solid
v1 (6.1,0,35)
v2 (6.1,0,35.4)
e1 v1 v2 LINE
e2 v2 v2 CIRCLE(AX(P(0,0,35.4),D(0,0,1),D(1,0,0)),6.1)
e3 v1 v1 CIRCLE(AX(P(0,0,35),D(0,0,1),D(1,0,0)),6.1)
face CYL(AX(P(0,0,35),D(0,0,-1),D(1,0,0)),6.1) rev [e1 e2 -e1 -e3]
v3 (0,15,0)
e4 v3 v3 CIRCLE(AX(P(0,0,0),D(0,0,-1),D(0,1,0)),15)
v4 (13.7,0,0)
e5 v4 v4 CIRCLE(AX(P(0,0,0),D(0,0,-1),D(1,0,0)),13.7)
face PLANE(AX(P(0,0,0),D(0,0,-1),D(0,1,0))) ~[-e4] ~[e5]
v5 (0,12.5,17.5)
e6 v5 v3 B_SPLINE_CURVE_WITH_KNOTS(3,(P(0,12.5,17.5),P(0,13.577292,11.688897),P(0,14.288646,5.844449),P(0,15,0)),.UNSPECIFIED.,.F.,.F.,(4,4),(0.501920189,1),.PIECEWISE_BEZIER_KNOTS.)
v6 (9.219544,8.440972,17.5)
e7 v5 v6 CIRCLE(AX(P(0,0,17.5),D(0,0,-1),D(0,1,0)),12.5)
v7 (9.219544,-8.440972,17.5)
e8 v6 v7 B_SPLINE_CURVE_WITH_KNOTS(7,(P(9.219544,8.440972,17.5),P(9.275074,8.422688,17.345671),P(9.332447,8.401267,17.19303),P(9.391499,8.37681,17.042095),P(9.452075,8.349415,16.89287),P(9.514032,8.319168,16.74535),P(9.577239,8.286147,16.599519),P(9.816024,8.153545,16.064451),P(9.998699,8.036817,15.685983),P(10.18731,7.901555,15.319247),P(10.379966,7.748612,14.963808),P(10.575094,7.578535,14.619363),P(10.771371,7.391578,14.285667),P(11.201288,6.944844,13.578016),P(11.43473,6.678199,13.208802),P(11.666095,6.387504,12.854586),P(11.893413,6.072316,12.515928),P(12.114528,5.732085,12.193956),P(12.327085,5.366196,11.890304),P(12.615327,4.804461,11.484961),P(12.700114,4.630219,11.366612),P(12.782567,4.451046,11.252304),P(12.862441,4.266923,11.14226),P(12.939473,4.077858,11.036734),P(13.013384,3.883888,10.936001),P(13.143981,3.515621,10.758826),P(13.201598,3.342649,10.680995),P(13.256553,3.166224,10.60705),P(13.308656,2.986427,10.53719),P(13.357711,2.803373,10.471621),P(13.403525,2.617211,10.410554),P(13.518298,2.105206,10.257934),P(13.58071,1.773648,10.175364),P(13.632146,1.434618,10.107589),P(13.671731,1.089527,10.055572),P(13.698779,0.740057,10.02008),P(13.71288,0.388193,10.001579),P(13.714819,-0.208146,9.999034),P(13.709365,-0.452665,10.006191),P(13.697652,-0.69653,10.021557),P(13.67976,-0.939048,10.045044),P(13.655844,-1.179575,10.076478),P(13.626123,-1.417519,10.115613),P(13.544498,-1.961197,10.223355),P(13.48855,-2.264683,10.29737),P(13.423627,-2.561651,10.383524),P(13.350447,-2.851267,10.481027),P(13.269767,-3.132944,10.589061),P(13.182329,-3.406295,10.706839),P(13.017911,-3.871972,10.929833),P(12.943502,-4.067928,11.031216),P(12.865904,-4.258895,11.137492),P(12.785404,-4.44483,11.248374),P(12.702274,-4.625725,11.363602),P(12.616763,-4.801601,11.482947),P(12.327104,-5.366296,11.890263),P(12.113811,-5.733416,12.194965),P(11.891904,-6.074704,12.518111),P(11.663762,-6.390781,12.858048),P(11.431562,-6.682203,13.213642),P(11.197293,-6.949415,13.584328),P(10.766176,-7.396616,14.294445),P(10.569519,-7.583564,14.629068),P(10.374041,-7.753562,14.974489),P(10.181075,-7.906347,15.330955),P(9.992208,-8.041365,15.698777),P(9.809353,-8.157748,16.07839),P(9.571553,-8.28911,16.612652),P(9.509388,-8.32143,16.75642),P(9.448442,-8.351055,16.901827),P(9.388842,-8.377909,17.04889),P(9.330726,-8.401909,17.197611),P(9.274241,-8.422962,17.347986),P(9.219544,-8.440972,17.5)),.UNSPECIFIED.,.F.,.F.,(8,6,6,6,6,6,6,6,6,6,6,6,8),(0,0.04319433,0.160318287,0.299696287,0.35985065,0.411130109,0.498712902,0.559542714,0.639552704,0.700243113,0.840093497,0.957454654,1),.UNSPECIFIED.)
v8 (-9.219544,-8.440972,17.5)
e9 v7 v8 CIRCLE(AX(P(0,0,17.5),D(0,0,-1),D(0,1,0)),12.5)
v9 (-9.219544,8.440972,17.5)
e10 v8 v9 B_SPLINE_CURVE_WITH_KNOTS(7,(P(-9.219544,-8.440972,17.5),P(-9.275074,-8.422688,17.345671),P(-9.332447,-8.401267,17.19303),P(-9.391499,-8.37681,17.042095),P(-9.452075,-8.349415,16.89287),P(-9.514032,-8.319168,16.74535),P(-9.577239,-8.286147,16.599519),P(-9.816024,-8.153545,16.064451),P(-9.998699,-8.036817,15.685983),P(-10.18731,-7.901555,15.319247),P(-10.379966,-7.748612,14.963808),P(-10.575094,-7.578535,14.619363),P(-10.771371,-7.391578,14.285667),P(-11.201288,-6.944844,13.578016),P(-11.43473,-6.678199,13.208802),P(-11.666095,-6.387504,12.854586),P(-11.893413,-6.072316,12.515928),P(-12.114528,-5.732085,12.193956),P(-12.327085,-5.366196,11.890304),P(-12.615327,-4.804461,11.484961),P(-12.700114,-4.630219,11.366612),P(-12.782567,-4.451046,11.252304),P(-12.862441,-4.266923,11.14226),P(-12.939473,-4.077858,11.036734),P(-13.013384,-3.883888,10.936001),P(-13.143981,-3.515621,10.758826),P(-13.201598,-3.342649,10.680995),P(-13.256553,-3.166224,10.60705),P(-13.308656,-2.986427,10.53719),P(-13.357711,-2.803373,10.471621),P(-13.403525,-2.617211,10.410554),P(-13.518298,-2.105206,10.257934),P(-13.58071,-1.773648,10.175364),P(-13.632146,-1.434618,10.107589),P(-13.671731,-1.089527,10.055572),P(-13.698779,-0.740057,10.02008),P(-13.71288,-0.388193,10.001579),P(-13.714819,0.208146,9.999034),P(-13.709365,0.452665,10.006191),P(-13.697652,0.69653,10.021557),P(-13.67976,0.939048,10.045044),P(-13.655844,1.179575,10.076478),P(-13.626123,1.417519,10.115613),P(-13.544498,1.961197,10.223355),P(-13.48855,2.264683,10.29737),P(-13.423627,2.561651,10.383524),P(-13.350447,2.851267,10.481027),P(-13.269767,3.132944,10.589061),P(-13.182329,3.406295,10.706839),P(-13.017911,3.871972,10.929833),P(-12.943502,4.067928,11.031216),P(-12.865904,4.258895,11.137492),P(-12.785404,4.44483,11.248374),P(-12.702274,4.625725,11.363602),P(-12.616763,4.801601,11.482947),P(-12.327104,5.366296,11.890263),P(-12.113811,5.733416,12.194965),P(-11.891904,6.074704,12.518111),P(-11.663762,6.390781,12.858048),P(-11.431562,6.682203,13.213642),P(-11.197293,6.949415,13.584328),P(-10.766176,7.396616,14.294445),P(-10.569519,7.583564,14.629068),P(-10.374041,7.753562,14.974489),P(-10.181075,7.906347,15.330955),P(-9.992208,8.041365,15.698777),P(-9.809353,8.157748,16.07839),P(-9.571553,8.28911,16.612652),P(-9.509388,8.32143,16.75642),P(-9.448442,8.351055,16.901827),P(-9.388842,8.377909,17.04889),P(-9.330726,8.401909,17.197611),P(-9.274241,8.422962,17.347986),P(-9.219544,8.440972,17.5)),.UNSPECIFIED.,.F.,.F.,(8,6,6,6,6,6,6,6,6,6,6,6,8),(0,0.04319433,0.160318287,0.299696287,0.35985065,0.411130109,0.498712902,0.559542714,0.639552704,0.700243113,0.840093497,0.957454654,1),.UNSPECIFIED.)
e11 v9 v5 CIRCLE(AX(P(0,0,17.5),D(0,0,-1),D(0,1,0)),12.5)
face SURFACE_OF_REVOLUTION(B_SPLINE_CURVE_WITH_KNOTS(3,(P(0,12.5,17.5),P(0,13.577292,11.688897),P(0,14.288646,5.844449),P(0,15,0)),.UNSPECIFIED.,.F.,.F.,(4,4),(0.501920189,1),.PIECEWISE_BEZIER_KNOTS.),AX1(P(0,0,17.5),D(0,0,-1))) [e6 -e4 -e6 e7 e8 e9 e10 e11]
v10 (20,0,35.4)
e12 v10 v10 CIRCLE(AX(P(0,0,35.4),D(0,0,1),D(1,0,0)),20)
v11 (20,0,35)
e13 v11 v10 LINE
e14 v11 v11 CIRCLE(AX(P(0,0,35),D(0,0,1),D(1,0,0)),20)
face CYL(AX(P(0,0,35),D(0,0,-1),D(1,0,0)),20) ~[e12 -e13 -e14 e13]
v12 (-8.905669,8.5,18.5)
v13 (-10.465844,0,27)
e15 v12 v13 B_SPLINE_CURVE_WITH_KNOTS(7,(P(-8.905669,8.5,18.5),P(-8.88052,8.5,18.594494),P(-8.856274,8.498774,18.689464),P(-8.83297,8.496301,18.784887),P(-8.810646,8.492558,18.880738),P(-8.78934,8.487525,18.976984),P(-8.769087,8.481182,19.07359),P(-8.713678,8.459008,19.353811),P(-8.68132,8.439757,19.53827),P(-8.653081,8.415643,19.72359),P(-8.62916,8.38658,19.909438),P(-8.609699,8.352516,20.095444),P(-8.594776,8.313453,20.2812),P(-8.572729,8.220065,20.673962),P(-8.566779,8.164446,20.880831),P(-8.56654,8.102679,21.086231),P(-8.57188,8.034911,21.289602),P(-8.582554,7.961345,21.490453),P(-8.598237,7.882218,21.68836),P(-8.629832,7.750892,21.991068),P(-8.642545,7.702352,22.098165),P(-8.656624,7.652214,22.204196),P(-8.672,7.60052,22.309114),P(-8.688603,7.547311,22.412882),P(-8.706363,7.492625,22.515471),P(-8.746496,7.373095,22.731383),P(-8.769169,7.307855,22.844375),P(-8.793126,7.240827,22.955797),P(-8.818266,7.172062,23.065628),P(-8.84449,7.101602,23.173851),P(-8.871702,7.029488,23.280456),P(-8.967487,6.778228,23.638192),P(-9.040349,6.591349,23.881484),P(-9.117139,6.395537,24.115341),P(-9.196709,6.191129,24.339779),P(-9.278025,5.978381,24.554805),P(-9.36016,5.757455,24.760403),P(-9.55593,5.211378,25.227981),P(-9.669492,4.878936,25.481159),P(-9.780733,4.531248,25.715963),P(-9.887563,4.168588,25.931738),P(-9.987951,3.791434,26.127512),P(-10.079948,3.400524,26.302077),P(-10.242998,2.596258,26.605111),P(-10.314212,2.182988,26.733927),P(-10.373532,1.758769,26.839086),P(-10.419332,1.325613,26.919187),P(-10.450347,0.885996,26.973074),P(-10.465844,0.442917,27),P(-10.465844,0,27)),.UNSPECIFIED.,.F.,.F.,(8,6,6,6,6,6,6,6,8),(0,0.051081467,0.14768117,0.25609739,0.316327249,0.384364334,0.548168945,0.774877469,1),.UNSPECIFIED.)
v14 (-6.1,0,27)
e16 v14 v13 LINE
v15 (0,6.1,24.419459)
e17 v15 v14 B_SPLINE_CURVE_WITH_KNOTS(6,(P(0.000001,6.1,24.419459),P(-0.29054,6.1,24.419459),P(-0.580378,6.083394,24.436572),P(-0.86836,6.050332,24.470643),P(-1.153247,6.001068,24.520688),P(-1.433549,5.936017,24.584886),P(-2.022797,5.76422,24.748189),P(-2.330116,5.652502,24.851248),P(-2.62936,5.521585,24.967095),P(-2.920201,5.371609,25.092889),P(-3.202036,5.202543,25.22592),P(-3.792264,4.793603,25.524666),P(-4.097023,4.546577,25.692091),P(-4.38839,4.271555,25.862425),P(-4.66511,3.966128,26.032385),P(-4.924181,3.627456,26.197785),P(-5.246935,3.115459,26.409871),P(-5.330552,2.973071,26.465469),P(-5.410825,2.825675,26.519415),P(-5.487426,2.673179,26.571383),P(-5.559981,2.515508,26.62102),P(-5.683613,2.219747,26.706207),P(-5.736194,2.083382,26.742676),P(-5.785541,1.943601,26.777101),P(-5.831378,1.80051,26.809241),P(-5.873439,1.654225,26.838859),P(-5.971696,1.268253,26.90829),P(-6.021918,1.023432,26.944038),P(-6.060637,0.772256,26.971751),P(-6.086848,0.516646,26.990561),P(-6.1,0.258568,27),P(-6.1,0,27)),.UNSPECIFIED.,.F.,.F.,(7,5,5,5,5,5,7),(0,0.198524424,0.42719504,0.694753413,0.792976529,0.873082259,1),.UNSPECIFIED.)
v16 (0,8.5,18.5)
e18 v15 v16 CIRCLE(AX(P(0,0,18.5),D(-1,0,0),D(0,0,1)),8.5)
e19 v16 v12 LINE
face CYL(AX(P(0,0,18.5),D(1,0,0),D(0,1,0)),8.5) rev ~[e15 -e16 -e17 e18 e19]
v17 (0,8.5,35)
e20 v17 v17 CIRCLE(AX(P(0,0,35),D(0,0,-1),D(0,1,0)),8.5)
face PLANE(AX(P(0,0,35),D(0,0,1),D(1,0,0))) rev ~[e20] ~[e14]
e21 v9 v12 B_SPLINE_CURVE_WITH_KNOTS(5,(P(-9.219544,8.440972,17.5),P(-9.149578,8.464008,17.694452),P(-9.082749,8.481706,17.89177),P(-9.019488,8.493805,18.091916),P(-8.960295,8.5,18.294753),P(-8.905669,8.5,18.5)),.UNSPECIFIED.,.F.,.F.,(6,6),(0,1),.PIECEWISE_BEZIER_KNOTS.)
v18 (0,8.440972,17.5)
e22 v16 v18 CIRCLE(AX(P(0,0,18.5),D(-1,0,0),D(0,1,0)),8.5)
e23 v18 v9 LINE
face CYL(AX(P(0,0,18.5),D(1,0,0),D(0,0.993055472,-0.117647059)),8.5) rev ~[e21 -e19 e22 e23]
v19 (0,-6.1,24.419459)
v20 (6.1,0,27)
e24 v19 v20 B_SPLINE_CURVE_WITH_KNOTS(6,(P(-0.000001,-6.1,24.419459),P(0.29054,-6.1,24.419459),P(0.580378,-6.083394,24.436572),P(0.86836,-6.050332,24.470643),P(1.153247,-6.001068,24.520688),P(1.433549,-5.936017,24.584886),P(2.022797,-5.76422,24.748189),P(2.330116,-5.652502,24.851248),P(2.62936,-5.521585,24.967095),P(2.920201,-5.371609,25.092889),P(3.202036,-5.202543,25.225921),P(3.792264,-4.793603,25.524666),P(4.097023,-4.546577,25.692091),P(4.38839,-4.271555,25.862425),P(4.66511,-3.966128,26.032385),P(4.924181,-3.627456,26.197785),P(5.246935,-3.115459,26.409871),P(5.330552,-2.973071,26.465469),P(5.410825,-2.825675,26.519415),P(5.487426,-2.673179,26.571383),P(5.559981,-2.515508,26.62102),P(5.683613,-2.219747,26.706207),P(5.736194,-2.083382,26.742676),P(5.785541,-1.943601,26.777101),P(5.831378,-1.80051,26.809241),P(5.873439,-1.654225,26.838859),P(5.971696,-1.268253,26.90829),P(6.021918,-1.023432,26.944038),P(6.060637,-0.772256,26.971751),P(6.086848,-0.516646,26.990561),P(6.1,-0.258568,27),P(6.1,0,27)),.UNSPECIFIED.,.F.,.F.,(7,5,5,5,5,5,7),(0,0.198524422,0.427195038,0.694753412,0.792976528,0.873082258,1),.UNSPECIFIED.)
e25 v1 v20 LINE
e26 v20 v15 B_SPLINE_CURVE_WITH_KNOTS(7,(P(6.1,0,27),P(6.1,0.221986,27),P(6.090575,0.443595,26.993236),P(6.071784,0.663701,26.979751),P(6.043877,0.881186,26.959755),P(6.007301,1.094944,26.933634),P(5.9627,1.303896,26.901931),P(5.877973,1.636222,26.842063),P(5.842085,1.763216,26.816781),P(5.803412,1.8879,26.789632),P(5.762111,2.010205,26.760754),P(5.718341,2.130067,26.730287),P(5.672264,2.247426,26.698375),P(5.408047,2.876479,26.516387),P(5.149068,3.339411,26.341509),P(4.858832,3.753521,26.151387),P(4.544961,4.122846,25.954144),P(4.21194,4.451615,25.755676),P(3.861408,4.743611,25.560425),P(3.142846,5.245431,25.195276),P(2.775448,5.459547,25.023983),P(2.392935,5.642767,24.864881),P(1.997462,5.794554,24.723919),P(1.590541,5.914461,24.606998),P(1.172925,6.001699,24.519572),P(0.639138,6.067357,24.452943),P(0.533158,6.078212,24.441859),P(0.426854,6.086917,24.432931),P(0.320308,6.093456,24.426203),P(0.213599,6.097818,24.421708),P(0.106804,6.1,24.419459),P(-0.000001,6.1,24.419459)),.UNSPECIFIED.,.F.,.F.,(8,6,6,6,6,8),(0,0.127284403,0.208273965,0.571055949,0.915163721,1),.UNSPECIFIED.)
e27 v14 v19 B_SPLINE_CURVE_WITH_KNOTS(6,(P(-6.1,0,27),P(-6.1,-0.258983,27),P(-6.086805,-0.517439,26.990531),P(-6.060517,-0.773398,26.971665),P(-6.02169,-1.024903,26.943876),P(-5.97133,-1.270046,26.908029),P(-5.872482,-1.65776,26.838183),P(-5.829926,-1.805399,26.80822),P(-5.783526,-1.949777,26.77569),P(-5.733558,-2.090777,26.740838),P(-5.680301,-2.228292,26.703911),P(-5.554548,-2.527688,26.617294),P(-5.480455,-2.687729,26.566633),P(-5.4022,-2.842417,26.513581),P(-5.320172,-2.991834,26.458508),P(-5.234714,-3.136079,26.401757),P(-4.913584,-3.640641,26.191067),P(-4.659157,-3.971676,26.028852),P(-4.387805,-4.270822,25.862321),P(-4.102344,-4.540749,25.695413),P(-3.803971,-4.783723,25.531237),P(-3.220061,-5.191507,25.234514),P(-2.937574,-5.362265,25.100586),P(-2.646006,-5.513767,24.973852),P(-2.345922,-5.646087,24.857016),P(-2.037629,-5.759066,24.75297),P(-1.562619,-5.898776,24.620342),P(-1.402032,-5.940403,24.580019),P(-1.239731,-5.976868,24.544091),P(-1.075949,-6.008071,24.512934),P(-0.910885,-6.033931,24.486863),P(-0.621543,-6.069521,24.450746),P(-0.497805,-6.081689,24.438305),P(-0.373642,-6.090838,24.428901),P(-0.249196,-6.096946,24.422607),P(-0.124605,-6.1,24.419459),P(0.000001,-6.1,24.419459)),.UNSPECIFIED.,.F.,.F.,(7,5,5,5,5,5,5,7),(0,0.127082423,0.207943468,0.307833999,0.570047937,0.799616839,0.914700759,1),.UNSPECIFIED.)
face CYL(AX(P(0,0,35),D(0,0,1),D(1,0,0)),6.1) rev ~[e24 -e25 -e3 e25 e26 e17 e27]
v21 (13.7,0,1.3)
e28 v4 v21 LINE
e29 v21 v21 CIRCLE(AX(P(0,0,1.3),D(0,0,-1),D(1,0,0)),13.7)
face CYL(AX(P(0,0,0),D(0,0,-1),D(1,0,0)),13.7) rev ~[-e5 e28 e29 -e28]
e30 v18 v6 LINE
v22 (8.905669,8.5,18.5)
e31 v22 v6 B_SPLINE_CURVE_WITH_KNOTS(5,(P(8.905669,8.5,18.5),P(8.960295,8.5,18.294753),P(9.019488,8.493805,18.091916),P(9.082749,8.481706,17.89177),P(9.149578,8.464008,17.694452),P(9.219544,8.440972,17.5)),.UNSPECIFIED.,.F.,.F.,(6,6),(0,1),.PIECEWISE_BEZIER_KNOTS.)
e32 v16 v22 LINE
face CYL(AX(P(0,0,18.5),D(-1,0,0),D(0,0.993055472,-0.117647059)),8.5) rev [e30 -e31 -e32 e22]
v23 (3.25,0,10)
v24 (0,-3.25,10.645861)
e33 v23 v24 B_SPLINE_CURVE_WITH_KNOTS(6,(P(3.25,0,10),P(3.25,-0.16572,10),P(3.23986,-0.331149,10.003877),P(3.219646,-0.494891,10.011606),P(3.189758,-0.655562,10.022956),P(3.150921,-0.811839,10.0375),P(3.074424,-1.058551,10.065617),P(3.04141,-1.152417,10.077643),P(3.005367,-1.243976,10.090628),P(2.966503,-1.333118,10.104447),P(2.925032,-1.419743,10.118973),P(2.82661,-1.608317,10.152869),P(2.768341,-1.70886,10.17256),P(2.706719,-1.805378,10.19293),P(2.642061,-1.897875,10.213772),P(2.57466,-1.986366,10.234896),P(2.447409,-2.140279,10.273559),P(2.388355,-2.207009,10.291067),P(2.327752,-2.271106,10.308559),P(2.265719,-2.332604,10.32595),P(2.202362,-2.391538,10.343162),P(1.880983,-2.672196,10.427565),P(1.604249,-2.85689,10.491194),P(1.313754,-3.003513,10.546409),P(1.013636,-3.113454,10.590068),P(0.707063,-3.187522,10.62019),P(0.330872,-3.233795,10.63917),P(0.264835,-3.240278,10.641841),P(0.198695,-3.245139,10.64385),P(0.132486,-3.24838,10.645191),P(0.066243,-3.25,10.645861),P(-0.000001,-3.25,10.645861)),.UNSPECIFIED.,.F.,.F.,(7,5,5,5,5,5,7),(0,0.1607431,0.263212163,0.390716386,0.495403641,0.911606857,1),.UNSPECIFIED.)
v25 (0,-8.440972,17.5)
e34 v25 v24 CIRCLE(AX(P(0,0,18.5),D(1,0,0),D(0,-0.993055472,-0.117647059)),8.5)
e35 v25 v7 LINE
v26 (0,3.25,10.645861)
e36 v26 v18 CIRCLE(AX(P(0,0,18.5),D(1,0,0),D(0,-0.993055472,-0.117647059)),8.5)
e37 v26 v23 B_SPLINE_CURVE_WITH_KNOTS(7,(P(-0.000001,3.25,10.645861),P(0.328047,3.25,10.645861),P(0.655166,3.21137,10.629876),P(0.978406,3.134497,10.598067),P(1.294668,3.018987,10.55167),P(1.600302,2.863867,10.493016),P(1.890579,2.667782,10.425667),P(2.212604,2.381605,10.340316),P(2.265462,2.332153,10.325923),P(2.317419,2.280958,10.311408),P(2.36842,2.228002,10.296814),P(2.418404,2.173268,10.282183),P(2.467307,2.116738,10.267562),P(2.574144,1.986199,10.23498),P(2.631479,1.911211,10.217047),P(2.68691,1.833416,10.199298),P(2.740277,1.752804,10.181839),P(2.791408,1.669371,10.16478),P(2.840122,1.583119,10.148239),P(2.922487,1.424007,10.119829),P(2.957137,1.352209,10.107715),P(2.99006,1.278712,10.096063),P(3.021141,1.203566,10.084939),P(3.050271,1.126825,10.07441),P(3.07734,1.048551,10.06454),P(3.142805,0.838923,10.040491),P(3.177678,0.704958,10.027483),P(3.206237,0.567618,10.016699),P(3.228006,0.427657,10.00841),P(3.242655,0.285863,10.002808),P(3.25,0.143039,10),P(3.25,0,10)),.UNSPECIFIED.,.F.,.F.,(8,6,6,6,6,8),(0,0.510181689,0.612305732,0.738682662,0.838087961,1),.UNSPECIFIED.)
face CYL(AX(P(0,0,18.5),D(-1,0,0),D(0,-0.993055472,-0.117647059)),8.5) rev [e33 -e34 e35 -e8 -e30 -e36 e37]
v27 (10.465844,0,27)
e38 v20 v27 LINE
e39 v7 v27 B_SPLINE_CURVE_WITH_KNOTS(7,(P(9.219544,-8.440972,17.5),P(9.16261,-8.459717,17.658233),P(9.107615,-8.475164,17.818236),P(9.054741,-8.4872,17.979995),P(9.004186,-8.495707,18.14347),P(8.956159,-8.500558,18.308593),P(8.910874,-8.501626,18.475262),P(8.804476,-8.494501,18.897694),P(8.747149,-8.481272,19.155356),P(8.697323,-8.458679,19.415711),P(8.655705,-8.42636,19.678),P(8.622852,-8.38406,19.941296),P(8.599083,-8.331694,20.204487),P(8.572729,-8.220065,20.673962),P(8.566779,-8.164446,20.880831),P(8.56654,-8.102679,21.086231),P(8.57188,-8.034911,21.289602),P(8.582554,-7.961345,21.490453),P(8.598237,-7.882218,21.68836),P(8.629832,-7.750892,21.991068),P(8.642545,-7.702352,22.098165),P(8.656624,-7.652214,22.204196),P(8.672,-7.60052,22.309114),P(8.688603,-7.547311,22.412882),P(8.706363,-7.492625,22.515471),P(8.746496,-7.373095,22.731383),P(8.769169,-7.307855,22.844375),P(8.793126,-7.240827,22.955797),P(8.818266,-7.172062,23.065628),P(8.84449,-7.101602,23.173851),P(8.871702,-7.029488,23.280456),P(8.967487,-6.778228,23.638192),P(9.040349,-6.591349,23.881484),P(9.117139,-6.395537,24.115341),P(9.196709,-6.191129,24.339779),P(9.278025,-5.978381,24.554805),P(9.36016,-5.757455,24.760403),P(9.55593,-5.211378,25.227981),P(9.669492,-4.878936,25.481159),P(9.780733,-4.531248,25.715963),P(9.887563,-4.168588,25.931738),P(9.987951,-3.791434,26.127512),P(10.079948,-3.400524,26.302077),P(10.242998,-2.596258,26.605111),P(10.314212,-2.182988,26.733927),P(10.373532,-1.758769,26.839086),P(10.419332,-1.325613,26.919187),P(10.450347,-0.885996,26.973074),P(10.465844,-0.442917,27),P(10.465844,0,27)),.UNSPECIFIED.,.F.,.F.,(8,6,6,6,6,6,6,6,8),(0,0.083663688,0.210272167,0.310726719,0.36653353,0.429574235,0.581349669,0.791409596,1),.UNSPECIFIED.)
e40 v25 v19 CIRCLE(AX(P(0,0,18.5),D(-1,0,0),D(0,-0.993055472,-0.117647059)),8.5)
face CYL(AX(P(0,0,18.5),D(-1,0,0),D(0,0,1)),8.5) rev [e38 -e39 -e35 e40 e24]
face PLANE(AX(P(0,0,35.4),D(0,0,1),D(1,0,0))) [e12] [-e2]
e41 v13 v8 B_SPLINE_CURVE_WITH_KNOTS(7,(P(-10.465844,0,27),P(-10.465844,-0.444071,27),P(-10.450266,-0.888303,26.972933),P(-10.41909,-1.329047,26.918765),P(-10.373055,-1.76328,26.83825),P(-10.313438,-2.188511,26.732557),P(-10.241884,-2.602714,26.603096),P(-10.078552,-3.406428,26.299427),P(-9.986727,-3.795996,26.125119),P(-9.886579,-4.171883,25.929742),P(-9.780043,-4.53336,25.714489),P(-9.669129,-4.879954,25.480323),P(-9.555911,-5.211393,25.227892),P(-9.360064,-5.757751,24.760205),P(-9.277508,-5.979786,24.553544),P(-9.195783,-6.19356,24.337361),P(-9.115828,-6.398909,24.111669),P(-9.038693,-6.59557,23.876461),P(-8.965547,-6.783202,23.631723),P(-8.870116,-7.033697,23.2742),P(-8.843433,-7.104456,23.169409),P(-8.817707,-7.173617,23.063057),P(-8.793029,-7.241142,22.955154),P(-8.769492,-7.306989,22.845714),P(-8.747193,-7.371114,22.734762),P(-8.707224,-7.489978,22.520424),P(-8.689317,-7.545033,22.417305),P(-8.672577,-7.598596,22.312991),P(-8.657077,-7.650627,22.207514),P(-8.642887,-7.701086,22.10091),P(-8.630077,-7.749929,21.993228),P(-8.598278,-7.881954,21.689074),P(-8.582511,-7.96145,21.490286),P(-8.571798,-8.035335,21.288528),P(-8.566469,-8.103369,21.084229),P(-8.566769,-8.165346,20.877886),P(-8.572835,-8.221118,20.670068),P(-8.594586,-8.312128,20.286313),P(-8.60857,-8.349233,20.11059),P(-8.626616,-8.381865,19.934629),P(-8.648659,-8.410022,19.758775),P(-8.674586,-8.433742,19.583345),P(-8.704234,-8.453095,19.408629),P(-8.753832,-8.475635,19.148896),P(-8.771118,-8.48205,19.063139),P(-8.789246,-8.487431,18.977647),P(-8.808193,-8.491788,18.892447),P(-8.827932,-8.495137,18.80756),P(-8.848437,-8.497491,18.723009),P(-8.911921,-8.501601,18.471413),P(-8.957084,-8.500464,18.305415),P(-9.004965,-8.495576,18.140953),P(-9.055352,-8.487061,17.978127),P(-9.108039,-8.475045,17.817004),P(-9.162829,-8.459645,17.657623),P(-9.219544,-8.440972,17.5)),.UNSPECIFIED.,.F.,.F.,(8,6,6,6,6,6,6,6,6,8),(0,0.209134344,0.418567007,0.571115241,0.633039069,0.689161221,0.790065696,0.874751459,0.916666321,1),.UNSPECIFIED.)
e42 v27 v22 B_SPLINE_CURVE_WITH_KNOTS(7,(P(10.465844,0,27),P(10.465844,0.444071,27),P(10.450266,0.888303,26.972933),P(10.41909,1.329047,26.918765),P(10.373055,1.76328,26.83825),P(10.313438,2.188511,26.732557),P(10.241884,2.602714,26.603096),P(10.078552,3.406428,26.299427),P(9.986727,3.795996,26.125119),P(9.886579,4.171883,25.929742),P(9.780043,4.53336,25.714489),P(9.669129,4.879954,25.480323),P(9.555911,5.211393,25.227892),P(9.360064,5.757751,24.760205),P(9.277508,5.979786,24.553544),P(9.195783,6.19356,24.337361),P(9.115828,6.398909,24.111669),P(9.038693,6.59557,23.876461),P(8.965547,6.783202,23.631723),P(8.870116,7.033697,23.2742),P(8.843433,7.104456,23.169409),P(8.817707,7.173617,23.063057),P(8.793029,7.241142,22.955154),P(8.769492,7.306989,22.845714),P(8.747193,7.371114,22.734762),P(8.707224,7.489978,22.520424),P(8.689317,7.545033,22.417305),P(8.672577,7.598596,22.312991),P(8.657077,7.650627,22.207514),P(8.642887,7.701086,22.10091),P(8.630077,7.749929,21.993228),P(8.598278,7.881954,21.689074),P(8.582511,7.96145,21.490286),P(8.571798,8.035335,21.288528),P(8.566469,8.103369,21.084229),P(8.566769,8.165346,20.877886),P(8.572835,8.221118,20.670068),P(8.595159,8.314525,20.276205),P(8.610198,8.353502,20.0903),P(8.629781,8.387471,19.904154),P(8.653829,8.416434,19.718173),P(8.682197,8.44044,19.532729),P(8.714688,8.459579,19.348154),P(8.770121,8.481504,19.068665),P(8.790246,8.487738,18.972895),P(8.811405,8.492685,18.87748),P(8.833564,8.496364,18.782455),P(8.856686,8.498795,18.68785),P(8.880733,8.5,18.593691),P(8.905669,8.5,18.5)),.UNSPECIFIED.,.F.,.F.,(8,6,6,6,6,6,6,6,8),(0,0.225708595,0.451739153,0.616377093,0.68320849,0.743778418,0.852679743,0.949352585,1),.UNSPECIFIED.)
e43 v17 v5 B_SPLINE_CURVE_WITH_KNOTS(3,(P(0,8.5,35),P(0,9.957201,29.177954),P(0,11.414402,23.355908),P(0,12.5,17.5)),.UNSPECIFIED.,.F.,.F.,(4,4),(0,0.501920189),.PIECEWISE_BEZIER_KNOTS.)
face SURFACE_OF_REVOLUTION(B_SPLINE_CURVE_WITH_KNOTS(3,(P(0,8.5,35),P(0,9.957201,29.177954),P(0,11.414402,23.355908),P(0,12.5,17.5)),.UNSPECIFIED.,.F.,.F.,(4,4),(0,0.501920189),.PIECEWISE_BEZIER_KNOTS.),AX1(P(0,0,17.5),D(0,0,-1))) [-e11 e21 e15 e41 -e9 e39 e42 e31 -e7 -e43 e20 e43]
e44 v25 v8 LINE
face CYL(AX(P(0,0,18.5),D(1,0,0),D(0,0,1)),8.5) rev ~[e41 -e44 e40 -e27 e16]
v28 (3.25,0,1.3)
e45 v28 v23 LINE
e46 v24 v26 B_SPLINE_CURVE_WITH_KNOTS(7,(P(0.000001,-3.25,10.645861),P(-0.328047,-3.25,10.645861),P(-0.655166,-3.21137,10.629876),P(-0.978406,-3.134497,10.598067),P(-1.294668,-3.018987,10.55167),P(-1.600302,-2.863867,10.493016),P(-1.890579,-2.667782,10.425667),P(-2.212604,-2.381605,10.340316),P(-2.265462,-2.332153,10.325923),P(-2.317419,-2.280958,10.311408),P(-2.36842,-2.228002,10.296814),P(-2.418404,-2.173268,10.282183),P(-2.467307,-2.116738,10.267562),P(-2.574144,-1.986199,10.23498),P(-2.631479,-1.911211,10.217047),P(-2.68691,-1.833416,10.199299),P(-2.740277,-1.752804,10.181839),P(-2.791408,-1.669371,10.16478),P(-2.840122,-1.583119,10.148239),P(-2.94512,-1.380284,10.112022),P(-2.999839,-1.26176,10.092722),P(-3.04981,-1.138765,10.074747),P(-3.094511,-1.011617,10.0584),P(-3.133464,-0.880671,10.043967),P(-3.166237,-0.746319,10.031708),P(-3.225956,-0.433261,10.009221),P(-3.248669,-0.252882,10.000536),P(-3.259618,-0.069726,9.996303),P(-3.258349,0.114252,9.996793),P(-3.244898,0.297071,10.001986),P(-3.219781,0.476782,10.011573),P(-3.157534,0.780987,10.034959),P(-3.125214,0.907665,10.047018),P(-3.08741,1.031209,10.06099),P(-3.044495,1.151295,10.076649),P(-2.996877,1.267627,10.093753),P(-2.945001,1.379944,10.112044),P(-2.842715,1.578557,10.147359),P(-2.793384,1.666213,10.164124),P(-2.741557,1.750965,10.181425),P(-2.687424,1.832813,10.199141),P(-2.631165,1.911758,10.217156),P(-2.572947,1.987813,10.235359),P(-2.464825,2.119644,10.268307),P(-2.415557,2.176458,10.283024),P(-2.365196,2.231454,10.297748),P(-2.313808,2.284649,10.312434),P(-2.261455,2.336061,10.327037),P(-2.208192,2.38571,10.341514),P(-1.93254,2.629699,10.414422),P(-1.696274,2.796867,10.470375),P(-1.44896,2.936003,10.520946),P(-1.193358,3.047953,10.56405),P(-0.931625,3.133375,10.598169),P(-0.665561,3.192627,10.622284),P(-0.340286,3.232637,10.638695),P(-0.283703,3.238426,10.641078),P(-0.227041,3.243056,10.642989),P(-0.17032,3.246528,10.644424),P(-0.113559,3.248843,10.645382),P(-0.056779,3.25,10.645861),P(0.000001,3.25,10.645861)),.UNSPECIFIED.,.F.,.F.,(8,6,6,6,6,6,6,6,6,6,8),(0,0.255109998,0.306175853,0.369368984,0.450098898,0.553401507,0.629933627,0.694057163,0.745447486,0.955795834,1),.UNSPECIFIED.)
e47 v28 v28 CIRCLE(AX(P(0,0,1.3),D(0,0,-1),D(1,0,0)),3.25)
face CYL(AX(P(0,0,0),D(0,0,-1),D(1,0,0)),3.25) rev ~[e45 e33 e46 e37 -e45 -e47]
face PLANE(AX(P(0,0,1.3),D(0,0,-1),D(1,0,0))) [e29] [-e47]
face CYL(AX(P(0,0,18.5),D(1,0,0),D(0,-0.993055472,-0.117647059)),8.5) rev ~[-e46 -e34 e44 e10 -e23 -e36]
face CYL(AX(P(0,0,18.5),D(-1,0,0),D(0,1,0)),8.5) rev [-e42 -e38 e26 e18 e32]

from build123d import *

# Parameters (mm, degrees)
F3_DEPTH = 15
F2_R     = 6.1
F4_DEPTH = 20
F5_R     = 3.25
F6_DEPTH = 20
F5_R_2   = 13.7
F7_DEPTH = 1.3
F2_R_2   = 20
F2_R_3   = 8.5
F8_DEPTH = 0.4


with BuildPart() as f1:
    # F0 (on Right) → F1 (revolve)
    with BuildSketch(Plane.YZ):
        with BuildLine():
            Line((0, 10), (0, 0))
            Line((0, 0), (15, 0))
            add(Edge.make_bspline(
                [(12.5, 17.5), (13.5772919142, 11.6888974623), (14.2886459571, 5.8444487312), (15, 0)],
                knots=[0.5019201889, 0.5019201889, 0.5019201889, 0.5019201889, 1, 1, 1, 1], degree=3))
            Line((12.5, 17.5), (8.4409715081, 17.5))
            ThreePointArc((8.4409715081, 17.5), (5.6457948953, 12.1458674864), (0, 10))
        make_face()
        with BuildLine():
            Line((8.4409715081, 17.5), (12.5, 17.5))
            add(Edge.make_bspline(
                [(8.5, 35), (9.9572008854, 29.1779541329), (11.4144017707, 23.3559082658), (12.5, 17.5)],
                knots=[0, 0, 0, 0, 0.5019201889, 0.5019201889, 0.5019201889, 0.5019201889], degree=3))
            Line((8.5, 35), (0, 35))
            Line((0, 35), (0, 27))
            ThreePointArc((0, 27), (6.0104076401, 24.5104076401), (8.5, 18.5))
            ThreePointArc((8.5, 18.5), (8.4852300446, 17.9991296668), (8.4409715081, 17.5))
        make_face()
    revolve(axis=Axis((0, 0, 17.5), (0, 0, -1)))

    # F0 (on Right) → F3 (cut, symmetric)
    with BuildSketch(Plane.YZ):
        with BuildLine():
            Line((0, 17.5), (0, 10))
            ThreePointArc((0, 10), (5.6457948953, 12.1458674864), (8.4409715081, 17.5))
            Line((8.4409715081, 17.5), (0, 17.5))
        make_face()
        with BuildLine():
            ThreePointArc((-8.4409715081, 17.5), (-5.6457948953, 12.1458674864), (0, 10))
            Line((0, 10), (0, 17.5))
            Line((0, 17.5), (-8.4409715081, 17.5))
        make_face()
        with BuildLine():
            ThreePointArc((0, 27), (-6.3541325136, 24.1457948953), (-8.4409715081, 17.5))
            Line((-8.4409715081, 17.5), (0, 17.5))
            Line((0, 17.5), (0, 27))
        make_face()
        with BuildLine():
            Line((0, 27), (0, 17.5))
            Line((0, 17.5), (8.4409715081, 17.5))
            ThreePointArc((8.4409715081, 17.5), (8.4852300446, 17.9991296668), (8.5, 18.5))
            ThreePointArc((8.5, 18.5), (6.0104076401, 24.5104076401), (0, 27))
        make_face()
    extrude(amount=F3_DEPTH, both=True, mode=Mode.SUBTRACT)

    # F2 (on face) → F4 (cut)
    with BuildSketch(Plane.XY.offset(35)):
        Circle(F2_R)
    extrude(amount=-F4_DEPTH, mode=Mode.SUBTRACT)

    # F5 (on face) → F6 (cut)
    with BuildSketch(Plane(origin=(0, 0, 0), x_dir=(1, 0, 0), z_dir=(0, 0, -1))):
        Circle(F5_R)
    extrude(amount=-F6_DEPTH, mode=Mode.SUBTRACT)

    # F5 (on face) → F7 (cut)
    with BuildSketch(Plane(origin=(0, 0, 0), x_dir=(1, 0, 0), z_dir=(0, 0, -1))):
        Circle(F5_R_2)
        Circle(F5_R, mode=Mode.SUBTRACT)
    extrude(amount=-F7_DEPTH, mode=Mode.SUBTRACT)

    # F2 (on face) → F8 (join)
    with BuildSketch(Plane.XY.offset(35)):
        Circle(F2_R_2)
        Circle(F2_R_3, mode=Mode.SUBTRACT)
        Circle(F2_R_3)
        Circle(F2_R, mode=Mode.SUBTRACT)
    extrude(amount=F8_DEPTH)


solid = f1.part
